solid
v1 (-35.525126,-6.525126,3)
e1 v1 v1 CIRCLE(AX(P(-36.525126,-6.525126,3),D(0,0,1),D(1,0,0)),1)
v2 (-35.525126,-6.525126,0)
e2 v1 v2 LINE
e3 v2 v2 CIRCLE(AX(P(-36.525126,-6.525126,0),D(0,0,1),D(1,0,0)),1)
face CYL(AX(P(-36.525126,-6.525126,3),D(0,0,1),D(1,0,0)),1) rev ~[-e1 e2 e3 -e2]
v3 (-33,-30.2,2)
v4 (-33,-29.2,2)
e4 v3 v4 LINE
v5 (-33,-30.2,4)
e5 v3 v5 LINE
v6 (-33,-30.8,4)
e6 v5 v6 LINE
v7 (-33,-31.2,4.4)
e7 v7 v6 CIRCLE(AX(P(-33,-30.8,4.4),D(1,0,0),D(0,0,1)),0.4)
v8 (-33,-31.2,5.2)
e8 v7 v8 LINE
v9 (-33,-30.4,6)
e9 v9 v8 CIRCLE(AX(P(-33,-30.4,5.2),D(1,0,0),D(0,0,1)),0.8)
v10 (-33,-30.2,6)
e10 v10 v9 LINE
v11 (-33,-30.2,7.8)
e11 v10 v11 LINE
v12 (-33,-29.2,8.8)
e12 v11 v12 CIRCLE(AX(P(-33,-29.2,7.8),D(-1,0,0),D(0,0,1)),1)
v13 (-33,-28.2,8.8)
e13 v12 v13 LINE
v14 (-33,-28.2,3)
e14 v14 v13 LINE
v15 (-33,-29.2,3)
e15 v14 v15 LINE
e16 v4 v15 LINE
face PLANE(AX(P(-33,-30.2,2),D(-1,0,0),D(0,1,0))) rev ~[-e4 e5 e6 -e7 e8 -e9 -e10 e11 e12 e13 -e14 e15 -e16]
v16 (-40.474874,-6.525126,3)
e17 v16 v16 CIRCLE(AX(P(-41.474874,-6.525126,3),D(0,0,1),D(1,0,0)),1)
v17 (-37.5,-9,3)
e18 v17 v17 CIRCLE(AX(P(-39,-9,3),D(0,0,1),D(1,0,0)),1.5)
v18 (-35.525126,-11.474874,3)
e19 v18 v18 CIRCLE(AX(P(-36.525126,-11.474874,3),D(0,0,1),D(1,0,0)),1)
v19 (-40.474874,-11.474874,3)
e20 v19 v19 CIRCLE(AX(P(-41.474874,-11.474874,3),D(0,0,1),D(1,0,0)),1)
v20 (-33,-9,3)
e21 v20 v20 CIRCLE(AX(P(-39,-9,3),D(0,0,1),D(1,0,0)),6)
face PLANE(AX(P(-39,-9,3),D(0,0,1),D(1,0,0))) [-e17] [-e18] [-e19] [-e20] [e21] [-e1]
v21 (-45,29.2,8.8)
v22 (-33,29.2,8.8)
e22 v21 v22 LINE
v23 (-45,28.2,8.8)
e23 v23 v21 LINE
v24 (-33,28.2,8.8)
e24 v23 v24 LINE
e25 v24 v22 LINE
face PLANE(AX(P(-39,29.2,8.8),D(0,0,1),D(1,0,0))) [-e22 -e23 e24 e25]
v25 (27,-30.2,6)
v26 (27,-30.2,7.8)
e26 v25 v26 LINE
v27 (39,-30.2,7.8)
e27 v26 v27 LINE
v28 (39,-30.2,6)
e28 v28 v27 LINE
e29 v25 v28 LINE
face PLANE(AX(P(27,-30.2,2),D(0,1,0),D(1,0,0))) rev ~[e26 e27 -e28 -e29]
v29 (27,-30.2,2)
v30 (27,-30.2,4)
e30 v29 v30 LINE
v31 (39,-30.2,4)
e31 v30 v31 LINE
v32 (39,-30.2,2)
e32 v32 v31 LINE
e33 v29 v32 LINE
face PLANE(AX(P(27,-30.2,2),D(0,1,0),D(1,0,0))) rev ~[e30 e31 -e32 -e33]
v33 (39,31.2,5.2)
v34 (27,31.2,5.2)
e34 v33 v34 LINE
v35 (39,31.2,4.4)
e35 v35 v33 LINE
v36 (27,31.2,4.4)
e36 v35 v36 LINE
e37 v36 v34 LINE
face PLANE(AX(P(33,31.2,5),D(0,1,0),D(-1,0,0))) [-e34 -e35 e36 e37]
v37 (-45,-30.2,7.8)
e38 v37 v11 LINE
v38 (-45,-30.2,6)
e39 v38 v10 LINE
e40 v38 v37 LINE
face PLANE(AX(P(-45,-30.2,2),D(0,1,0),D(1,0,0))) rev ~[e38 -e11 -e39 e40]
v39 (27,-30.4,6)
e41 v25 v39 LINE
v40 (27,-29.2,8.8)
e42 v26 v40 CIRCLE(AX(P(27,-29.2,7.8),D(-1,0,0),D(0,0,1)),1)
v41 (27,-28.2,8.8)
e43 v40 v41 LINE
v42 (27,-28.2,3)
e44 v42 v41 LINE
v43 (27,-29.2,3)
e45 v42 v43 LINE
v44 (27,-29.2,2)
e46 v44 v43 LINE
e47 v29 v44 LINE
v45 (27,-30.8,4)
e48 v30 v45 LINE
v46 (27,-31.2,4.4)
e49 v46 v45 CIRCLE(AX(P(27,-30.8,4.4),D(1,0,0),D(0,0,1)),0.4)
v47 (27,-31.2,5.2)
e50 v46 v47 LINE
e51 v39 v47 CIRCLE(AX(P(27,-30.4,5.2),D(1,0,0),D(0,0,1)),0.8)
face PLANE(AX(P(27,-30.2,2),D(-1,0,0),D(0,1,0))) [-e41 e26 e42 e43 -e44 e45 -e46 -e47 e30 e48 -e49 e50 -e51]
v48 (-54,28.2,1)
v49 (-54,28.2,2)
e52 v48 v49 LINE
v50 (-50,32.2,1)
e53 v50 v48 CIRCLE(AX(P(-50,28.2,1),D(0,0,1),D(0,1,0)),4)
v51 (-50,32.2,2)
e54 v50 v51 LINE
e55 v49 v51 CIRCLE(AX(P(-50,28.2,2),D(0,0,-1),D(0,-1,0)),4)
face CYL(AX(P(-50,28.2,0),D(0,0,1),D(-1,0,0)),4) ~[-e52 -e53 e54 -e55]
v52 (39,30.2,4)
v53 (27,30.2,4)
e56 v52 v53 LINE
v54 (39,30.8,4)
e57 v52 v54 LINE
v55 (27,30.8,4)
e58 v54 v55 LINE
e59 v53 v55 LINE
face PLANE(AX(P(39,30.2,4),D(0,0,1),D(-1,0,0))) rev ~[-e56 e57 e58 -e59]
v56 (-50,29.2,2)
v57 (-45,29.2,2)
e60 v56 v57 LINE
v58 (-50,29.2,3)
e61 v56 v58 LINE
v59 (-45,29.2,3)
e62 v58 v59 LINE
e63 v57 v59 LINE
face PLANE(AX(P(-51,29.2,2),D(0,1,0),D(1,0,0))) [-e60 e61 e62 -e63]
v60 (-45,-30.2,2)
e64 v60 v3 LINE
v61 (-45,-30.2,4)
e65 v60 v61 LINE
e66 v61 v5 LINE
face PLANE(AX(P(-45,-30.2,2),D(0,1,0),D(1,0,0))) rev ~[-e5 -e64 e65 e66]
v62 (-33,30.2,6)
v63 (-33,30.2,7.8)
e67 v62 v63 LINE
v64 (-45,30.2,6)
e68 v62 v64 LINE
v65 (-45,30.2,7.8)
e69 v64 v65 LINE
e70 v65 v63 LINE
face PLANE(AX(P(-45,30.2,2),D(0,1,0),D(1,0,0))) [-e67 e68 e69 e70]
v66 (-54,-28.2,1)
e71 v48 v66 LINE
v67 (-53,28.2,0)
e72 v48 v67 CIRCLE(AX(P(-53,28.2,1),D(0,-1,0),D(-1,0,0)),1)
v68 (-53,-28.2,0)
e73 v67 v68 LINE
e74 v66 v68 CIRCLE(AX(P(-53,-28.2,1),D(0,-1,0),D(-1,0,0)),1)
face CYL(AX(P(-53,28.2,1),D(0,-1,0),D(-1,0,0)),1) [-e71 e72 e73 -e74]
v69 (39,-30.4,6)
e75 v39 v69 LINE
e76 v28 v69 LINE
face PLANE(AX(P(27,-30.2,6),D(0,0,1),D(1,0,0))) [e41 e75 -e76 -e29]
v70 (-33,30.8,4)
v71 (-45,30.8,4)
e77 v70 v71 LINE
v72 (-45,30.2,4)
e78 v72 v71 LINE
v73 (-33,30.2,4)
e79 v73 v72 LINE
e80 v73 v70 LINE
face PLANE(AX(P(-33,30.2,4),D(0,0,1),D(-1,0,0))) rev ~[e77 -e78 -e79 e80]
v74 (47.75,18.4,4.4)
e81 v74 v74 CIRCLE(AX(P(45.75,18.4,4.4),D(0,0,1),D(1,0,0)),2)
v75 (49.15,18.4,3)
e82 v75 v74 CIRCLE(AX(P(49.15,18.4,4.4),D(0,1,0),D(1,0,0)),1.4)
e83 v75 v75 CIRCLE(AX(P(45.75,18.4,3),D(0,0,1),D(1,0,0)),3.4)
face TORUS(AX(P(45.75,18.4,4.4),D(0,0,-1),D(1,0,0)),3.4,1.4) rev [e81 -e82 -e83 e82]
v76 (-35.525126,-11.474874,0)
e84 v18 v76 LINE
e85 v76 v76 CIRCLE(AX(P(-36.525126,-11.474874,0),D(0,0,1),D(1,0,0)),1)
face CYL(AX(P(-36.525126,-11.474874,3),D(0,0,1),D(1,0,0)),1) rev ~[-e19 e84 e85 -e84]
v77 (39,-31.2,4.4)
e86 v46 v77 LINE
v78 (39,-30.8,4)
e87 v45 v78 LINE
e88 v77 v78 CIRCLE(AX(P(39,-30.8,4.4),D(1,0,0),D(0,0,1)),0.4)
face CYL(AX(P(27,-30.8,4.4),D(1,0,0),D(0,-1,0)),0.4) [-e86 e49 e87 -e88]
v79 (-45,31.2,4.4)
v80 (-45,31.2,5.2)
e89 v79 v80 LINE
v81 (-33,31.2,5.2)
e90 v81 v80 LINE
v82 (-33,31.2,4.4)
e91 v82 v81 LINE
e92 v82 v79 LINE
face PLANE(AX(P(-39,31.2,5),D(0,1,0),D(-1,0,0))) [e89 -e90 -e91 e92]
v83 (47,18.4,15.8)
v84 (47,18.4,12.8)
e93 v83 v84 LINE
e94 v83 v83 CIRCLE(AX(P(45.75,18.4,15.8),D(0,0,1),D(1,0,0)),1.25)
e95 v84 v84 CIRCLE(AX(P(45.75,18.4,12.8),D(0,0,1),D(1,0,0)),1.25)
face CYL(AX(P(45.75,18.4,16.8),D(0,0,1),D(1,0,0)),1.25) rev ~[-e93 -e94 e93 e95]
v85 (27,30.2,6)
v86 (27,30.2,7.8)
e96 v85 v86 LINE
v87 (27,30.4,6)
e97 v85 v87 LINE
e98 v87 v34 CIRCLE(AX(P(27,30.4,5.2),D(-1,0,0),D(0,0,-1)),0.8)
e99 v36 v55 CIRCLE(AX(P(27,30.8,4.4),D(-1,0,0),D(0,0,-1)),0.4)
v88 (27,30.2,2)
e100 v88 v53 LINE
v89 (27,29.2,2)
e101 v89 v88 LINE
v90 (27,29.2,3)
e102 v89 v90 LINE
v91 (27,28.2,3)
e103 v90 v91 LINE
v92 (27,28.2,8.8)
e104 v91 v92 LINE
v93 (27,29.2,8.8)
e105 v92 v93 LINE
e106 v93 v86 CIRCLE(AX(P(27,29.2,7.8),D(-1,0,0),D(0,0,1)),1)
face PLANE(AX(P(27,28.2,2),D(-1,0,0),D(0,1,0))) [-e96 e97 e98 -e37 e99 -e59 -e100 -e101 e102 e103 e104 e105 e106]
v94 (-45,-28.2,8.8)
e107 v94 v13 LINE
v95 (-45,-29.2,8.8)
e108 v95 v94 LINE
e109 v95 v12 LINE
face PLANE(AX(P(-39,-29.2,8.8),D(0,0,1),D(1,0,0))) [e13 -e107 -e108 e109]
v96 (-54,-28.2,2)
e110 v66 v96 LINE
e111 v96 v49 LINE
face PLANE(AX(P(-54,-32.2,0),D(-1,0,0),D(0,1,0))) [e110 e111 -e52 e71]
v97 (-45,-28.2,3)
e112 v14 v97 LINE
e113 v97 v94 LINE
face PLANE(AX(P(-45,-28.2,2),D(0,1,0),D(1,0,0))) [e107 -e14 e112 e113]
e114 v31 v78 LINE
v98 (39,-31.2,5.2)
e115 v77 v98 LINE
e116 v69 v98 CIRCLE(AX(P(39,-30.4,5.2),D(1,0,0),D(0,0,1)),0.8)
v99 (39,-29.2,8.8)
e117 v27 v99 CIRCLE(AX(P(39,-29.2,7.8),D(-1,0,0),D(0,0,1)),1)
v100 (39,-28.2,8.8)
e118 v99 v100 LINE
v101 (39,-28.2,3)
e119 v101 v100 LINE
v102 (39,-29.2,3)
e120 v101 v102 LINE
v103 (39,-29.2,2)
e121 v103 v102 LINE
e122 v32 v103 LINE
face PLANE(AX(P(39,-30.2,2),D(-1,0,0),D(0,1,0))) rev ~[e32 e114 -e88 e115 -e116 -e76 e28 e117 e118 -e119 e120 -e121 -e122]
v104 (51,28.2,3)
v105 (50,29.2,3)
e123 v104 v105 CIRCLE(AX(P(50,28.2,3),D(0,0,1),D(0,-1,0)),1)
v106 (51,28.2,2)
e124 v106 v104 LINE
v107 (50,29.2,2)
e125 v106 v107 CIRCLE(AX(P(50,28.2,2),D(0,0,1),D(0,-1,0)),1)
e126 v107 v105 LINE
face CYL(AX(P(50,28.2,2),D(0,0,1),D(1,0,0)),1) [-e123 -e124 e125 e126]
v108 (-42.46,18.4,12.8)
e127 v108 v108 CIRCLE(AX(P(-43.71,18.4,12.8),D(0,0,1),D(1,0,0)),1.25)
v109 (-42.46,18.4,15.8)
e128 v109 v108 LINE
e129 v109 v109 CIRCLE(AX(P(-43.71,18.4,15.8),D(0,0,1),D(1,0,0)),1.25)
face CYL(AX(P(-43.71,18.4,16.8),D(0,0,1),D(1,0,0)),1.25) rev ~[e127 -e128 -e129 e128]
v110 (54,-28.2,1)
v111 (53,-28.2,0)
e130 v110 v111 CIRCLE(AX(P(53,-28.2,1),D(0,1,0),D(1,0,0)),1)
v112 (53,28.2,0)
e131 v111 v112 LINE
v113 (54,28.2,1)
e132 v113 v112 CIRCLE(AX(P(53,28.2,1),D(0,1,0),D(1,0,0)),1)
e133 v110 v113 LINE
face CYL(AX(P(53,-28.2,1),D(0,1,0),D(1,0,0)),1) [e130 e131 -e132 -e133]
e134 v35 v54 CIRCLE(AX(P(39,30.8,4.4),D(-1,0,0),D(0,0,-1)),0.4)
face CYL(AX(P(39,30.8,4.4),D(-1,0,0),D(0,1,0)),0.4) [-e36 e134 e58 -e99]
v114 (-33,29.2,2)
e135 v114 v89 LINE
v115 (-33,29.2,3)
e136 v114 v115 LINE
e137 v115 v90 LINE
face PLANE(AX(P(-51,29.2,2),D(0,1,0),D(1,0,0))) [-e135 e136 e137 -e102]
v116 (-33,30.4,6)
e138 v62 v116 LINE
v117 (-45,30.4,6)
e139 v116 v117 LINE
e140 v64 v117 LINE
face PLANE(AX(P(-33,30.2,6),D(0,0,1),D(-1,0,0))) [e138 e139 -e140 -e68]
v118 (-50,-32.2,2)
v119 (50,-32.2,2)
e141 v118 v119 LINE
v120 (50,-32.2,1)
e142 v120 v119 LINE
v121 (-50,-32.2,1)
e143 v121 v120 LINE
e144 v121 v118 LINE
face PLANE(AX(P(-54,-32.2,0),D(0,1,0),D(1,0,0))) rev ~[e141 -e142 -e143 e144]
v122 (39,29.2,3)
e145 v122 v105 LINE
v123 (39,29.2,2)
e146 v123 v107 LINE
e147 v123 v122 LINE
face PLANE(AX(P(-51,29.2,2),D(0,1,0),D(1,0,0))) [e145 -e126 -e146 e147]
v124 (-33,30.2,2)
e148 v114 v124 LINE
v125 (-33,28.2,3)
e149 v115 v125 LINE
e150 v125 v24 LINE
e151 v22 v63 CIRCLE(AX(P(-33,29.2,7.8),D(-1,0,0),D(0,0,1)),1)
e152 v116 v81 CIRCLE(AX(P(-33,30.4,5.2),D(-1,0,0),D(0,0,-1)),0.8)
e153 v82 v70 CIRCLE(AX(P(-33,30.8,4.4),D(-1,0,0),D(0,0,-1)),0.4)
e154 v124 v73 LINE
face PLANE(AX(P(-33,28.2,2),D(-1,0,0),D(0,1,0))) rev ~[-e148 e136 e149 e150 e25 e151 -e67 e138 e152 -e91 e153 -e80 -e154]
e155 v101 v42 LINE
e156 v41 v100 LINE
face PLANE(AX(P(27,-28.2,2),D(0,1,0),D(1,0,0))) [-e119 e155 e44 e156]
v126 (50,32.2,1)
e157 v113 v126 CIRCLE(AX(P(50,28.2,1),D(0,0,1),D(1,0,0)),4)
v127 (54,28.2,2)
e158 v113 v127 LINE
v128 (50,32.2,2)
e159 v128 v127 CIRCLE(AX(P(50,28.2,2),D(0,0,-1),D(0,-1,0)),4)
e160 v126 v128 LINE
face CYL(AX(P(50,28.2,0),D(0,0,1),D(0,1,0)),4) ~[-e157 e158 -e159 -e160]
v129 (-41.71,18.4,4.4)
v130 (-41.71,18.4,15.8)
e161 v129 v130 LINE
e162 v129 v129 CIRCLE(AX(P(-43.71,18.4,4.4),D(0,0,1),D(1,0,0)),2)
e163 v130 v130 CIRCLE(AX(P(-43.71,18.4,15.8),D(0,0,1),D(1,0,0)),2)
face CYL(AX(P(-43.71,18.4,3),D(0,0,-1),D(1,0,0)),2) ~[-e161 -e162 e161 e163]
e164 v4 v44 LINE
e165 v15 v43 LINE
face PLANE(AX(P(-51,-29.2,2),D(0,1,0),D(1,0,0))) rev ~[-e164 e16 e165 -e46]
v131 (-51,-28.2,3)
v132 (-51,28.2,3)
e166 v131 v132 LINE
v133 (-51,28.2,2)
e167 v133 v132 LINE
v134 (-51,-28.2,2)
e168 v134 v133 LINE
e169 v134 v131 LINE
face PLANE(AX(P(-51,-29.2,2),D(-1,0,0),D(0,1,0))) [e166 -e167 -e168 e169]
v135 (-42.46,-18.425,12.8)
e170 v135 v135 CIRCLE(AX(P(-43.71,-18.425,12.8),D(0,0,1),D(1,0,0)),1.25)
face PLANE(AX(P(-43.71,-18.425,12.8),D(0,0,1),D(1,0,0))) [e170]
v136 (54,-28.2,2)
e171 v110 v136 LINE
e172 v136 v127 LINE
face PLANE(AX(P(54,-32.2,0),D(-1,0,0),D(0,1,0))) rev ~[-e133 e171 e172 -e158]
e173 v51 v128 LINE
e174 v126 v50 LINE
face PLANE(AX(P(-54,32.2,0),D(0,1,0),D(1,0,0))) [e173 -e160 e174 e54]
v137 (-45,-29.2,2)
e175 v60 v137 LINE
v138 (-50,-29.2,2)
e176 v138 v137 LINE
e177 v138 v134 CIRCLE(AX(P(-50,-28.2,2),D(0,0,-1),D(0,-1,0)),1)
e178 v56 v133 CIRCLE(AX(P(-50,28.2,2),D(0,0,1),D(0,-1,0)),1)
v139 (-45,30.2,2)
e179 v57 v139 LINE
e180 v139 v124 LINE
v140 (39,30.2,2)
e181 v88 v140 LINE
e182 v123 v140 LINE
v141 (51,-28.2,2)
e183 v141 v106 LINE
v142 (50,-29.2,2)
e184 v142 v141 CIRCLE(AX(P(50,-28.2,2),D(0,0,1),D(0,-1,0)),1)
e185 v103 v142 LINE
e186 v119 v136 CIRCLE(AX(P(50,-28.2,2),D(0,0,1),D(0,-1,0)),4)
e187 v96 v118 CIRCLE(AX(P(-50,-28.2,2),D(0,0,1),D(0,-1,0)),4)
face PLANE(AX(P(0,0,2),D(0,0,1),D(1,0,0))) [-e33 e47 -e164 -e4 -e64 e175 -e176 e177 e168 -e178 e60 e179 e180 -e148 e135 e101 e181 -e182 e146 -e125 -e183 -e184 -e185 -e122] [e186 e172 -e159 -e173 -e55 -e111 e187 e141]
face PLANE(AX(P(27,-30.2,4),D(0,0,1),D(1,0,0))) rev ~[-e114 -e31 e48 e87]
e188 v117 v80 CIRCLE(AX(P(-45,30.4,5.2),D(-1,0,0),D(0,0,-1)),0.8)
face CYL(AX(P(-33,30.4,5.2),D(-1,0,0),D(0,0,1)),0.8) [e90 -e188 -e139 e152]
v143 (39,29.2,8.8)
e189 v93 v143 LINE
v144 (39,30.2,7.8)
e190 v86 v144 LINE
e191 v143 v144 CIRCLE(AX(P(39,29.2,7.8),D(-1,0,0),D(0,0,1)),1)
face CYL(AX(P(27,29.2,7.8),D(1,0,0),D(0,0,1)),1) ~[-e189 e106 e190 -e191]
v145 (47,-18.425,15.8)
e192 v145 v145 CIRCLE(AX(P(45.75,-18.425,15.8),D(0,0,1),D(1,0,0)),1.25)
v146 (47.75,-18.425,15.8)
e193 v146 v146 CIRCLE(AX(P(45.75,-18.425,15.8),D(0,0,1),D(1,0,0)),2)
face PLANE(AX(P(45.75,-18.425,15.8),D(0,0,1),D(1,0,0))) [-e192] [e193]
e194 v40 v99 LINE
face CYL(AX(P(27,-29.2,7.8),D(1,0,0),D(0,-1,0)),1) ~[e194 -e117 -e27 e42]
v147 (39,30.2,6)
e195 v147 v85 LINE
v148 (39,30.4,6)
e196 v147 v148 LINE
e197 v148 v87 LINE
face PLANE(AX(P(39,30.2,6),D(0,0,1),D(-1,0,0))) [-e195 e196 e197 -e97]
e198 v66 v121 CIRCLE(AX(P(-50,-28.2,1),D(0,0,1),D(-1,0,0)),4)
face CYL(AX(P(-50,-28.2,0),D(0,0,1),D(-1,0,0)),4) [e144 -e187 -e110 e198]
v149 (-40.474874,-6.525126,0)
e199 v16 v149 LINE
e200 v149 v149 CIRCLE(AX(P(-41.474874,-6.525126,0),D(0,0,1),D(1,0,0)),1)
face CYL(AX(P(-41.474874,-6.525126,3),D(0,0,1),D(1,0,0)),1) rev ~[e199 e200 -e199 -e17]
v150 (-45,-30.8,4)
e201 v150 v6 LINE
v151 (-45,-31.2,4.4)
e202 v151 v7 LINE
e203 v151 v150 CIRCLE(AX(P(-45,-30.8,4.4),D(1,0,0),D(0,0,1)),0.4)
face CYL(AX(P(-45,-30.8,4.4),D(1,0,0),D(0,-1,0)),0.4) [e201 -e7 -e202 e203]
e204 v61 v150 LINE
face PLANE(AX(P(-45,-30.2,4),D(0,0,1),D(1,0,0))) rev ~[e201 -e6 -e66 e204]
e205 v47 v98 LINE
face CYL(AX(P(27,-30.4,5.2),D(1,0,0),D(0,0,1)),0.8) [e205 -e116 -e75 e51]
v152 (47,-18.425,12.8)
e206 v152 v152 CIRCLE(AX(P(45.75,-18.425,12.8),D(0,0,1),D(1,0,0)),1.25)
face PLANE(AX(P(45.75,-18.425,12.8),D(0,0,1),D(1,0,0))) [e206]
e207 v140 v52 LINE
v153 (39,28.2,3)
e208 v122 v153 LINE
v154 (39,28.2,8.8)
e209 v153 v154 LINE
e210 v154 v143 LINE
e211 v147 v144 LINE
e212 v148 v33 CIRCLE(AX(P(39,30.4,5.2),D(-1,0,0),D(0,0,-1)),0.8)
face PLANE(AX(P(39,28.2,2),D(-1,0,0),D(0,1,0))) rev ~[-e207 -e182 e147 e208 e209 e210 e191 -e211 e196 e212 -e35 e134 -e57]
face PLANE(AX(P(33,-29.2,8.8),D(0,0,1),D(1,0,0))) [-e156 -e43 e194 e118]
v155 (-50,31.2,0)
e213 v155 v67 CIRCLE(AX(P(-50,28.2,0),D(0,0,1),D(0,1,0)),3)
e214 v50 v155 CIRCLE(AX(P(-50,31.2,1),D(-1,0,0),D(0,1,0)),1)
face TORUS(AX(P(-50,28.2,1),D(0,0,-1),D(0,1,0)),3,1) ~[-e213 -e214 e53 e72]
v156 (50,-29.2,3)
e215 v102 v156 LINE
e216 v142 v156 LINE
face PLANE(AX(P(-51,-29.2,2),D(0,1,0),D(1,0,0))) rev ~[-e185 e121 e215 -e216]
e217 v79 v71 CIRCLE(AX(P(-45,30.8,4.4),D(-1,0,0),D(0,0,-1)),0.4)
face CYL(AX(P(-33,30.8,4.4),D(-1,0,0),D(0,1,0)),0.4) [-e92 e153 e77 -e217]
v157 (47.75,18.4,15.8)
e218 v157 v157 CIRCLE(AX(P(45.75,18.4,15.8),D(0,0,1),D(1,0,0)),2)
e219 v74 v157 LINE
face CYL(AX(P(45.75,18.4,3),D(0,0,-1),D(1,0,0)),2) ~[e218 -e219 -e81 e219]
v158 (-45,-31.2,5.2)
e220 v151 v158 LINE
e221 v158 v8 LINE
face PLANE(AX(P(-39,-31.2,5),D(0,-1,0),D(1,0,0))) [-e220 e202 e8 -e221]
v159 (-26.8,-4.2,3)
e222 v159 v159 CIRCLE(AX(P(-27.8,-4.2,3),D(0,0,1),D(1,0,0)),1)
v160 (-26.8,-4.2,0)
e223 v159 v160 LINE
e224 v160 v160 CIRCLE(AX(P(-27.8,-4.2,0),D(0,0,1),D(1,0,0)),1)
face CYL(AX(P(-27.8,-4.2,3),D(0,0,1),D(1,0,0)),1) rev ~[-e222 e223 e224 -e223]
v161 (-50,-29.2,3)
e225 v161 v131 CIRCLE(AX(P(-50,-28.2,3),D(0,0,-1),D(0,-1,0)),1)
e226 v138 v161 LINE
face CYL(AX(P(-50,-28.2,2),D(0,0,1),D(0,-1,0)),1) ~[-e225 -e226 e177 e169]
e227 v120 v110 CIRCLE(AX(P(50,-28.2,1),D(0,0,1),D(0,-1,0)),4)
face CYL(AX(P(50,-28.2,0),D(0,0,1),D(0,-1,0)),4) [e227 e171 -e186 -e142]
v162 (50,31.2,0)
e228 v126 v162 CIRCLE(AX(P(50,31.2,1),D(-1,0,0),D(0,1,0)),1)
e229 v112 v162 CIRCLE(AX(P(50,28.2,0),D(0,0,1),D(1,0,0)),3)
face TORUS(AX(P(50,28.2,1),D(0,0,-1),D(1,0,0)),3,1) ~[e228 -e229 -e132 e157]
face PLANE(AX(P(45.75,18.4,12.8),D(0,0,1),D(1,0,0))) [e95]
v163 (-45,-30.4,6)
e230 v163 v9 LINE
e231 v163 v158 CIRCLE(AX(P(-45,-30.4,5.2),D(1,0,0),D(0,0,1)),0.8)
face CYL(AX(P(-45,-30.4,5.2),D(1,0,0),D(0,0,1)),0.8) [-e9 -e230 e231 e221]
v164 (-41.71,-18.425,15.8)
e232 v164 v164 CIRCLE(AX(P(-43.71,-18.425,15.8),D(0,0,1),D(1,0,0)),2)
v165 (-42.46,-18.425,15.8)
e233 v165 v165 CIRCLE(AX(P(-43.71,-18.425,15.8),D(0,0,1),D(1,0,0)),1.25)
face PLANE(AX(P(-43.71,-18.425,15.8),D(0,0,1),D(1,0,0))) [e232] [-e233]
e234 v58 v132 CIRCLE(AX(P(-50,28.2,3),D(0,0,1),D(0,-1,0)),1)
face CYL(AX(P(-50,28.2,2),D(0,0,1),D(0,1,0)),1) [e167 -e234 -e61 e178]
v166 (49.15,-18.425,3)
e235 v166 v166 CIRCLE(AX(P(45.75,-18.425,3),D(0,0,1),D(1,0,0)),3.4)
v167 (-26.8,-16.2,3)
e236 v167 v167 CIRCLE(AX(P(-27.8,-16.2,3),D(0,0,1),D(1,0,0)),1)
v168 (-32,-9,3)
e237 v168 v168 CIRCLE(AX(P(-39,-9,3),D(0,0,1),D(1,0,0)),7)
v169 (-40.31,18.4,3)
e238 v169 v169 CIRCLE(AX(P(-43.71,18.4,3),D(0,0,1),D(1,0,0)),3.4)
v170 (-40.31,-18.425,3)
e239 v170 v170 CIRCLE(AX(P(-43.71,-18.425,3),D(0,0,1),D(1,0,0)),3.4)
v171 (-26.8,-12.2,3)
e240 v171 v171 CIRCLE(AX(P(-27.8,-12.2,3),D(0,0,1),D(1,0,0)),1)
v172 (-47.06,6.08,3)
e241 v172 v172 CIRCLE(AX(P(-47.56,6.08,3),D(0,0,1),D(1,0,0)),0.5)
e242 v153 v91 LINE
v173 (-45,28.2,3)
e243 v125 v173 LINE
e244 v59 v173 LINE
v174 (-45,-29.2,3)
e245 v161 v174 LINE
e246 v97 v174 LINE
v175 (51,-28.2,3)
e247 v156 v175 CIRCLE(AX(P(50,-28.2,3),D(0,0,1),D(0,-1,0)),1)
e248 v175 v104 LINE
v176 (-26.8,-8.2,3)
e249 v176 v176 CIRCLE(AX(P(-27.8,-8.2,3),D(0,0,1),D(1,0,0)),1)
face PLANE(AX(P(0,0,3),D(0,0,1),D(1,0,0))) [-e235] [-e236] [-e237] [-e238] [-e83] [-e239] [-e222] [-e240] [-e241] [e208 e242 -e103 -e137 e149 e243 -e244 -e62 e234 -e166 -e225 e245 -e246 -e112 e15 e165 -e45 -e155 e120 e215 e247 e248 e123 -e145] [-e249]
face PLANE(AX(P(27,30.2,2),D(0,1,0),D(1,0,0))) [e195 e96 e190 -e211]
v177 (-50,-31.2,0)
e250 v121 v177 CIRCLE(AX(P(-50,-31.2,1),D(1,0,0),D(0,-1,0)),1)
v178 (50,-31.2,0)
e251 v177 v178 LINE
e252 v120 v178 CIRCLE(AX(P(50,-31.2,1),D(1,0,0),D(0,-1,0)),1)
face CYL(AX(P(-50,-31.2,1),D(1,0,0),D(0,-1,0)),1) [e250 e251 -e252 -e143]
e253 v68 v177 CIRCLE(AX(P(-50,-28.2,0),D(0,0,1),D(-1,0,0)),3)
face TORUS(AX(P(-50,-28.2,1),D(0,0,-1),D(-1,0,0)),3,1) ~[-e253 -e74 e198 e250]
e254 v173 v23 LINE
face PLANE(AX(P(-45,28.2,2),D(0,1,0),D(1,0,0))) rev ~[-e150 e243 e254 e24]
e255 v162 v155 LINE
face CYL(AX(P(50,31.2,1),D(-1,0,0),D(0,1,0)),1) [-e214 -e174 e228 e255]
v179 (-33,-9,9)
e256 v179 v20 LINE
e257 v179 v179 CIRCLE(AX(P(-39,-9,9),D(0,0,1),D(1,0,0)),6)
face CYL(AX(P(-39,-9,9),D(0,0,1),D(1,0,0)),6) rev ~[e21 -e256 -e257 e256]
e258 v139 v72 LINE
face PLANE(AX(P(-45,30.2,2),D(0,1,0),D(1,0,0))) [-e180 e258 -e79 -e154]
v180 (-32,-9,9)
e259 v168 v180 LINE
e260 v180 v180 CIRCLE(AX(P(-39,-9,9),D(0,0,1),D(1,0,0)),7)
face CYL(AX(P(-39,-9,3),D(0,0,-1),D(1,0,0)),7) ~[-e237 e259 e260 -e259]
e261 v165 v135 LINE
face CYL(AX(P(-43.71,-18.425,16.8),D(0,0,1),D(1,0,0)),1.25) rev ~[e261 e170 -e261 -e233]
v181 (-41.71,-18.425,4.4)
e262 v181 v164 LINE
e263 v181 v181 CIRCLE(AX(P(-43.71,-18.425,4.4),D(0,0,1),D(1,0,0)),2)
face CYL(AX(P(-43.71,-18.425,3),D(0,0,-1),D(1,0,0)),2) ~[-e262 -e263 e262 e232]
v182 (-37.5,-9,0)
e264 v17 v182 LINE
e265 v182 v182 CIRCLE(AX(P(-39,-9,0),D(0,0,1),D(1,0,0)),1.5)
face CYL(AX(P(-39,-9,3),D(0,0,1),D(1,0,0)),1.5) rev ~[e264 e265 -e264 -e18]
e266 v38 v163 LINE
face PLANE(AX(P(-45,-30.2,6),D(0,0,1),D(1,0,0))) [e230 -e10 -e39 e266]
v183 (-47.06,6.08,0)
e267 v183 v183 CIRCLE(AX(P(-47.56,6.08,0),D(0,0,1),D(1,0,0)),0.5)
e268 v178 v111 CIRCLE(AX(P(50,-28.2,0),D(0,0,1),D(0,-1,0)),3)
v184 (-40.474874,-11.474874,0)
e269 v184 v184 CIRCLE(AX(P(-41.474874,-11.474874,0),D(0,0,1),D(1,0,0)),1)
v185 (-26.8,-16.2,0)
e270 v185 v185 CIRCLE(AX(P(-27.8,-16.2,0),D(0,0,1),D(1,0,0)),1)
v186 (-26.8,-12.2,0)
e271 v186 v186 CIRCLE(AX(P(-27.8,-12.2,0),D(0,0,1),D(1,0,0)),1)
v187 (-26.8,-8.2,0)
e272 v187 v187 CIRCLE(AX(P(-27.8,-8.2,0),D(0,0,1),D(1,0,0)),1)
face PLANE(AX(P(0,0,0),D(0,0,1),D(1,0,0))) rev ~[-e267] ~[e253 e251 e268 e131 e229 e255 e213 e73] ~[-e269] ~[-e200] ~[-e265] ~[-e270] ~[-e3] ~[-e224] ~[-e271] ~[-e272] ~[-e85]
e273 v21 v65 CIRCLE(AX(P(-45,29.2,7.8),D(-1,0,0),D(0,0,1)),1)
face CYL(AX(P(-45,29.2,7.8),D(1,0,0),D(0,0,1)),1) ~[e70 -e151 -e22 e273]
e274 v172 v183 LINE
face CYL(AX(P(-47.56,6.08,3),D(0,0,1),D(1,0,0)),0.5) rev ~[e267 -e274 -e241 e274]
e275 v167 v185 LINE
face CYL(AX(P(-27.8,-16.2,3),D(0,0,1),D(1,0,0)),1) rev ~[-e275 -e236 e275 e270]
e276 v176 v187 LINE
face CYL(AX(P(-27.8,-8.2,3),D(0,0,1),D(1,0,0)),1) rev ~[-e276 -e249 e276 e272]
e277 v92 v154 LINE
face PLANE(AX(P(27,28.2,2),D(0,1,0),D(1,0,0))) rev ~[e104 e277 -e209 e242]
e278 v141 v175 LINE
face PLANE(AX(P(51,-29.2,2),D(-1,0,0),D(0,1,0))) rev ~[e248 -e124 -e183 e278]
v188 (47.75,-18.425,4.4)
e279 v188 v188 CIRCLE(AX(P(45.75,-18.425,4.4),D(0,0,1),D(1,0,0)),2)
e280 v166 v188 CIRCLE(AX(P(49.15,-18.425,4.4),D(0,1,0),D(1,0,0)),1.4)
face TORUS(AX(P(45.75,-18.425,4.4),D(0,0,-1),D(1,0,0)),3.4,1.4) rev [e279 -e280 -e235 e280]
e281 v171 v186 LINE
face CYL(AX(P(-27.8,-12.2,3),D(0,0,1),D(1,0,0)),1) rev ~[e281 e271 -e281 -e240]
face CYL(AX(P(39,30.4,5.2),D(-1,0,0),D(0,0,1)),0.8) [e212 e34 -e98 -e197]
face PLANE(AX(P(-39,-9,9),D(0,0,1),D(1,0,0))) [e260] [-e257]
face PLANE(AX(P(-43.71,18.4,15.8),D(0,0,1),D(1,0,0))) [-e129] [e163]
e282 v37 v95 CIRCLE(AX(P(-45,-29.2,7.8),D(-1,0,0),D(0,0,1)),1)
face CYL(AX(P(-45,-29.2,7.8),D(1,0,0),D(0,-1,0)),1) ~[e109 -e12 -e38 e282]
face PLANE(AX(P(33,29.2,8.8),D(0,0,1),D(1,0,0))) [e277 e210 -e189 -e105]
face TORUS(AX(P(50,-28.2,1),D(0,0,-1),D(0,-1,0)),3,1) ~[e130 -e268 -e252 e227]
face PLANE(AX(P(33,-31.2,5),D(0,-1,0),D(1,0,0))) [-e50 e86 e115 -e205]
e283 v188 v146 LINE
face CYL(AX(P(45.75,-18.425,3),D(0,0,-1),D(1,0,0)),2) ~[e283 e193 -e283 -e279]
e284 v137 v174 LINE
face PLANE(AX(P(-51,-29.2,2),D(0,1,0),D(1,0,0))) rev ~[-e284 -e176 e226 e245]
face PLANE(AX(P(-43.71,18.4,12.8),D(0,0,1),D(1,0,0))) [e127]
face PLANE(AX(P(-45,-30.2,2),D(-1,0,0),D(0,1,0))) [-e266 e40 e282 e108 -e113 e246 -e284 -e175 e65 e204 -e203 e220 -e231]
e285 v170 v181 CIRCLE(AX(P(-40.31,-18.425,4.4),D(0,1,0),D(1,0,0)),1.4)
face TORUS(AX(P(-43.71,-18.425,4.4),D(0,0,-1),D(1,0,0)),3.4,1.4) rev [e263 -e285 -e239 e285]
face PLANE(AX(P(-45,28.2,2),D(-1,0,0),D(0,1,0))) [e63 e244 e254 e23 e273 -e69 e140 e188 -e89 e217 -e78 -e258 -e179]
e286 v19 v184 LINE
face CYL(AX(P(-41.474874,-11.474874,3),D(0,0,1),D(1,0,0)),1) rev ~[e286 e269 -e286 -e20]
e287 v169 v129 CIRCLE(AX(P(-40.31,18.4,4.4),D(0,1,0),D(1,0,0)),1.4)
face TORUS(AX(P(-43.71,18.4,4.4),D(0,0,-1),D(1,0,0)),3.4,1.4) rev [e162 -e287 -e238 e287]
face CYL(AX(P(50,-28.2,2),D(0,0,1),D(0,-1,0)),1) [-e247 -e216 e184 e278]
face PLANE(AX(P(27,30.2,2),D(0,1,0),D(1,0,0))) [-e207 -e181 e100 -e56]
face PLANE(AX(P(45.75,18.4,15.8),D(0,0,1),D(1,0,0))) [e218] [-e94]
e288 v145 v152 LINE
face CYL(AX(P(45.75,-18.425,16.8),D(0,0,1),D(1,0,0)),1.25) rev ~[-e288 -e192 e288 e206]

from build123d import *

# Parameters (mm, degrees)
SKETCH_W        = 108
SKETCH_H        = 64.4
PAD_DEPTH       = 2
SKETCH001_W     = 102
SKETCH001_H     = 58.4
PAD001_DEPTH    = 1
SKETCH002_R     = 2
PAD002_DEPTH    = 12.8
SKETCH003_R     = 1.25
POCKET_DEPTH    = 4
SKETCH004_W     = 12
SKETCH004_H     = 2
PAD003_DEPTH    = 6.8
SKETCH005_W     = 12
SKETCH005_H     = 2
PAD004_DEPTH    = 1
SKETCH006_W     = 12
SKETCH006_H     = 2
PAD005_DEPTH    = 1
FILLET_R        = 4
FILLET001_R     = 1
FILLET002_R     = 1
FILLET003_R     = 0.8
FILLET004_R     = 0.4
FILLET005_R     = 1
SKETCH007_R     = 1.5
SKETCH007_R_2   = 1
SKETCH007_R_3   = 0.5
POCKET001_DEPTH = 3.001
SKETCH008_R     = 7
PAD006_DEPTH    = 6
SKETCH009_R     = 6
POCKET002_DEPTH = 6
FILLET006_R     = 1.4


with BuildPart() as part:
    # Sketch → Pad (new body)
    with BuildSketch(Plane.XY):
        Rectangle(SKETCH_W, SKETCH_H)
    extrude(amount=PAD_DEPTH)

    # Sketch001 (on Face6 of Pad) → Pad001 (join)
    with BuildSketch(Plane.XY.offset(2)):
        Rectangle(SKETCH001_W, SKETCH001_H)
    extrude(amount=PAD001_DEPTH)

    # Sketch002 (on Face11 of Pad001) → Pad002 (join)
    with BuildSketch(Plane.XY.offset(3)):
        with Locations((-43.71, 18.4)):
            Circle(SKETCH002_R)
        with Locations((45.75, 18.4)):
            Circle(SKETCH002_R)
        with Locations((-43.71, -18.425)):
            Circle(SKETCH002_R)
        with Locations((45.75, -18.425)):
            Circle(SKETCH002_R)
    extrude(amount=PAD002_DEPTH)

    # Sketch003 → Pocket (cut)
    with BuildSketch(Plane.XY.offset(16.8)):
        with Locations((-43.71, 18.4)):
            Circle(SKETCH003_R)
        with Locations((45.75, 18.4)):
            Circle(SKETCH003_R)
        with Locations((45.75, -18.425)):
            Circle(SKETCH003_R)
        with Locations((-43.71, -18.425)):
            Circle(SKETCH003_R)
    extrude(amount=-POCKET_DEPTH, mode=Mode.SUBTRACT)

    # Sketch004 (on Face11 of Pocket) → Pad003 (join)
    with BuildSketch(Plane.XY.offset(2)):
        with Locations((-39, 29.2)):
            Rectangle(SKETCH004_W, SKETCH004_H)
        with Locations((33, 29.2)):
            Rectangle(SKETCH004_W, SKETCH004_H)
        with Locations((-39, -29.2)):
            Rectangle(SKETCH004_W, SKETCH004_H)
        with Locations((33, -29.2)):
            Rectangle(SKETCH004_W, SKETCH004_H)
    extrude(amount=PAD003_DEPTH)

    # Sketch005 (on Face19 of Pad003) → Pad004 (join)
    with BuildSketch(Plane.XZ.offset(30.2)):
        with Locations((33, 5)):
            Rectangle(SKETCH005_W, SKETCH005_H)
        with Locations((-39, 5)):
            Rectangle(SKETCH005_W, SKETCH005_H)
    extrude(amount=PAD004_DEPTH)

    # Sketch006 → Pad005 (join)
    with BuildSketch(Plane(origin=(0, 30.2, 0), x_dir=(-1, 0, 0), z_dir=(0, 1, 0))):
        with Locations((-33, 5)):
            Rectangle(SKETCH006_W, SKETCH006_H)
        with Locations((39, 5)):
            Rectangle(SKETCH006_W, SKETCH006_H)
    extrude(amount=PAD005_DEPTH)

    # Fillet
    fillet_edges = [part.edges().sort_by_distance(p)[0] for p in [
        (-54, 32.2, 1),
        (54, 32.2, 1),
        (-54, -32.2, 1),
        (54, -32.2, 1),
    ]]
    fillet(fillet_edges, radius=FILLET_R)

    # Fillet001
    fillet001_edges = [part.edges().sort_by_distance(p)[0] for p in [
        (-51, 29.2, 2.5),
        (-51, -29.2, 2.5),
        (51, -29.2, 2.5),
        (51, 29.2, 2.5),
    ]]
    fillet(fillet001_edges, radius=FILLET001_R)

    # Fillet002
    fillet002_edges = [part.edges().sort_by_distance(p)[0] for p in [
        (-39, -30.2, 8.8),
        (33, -30.2, 8.8),
        (33, 30.2, 8.8),
        (-39, 30.2, 8.8),
    ]]
    fillet(fillet002_edges, radius=FILLET002_R)

    # Fillet003
    fillet003_edges = [part.edges().sort_by_distance(p)[0] for p in [
        (-39, 31.2, 6),
        (33, 31.2, 6),
        (-39, -31.2, 6),
        (33, -31.2, 6),
    ]]
    fillet(fillet003_edges, radius=FILLET003_R)

    # Fillet004
    fillet004_edges = [part.edges().sort_by_distance(p)[0] for p in [
        (33, -31.2, 4),
        (-39, -31.2, 4),
        (-39, 31.2, 4),
        (33, 31.2, 4),
    ]]
    fillet(fillet004_edges, radius=FILLET004_R)

    # Fillet005
    fillet005_edges = [part.edges().sort_by_distance(p)[0] for p in [
        (0, -32.2, 0),
    ]]
    fillet(fillet005_edges, radius=FILLET005_R)

    # Sketch007 (on Face43 of Fillet005) → Pocket001 (cut, through all)
    with BuildSketch(Plane.XY.offset(3)):
        with Locations((-39, -9)):
            Circle(SKETCH007_R)
        with Locations((-27.8, -4.2)):
            Circle(SKETCH007_R_2)
        with Locations((-27.8, -8.2)):
            Circle(SKETCH007_R_2)
        with Locations((-27.8, -12.2)):
            Circle(SKETCH007_R_2)
        with Locations((-27.8, -16.2)):
            Circle(SKETCH007_R_2)
        with Locations((-47.56, 6.08)):
            Circle(SKETCH007_R_3)
        with Locations((-41.474874, -6.525126)):
            Circle(SKETCH007_R_2)
        with Locations((-36.525126, -6.525126)):
            Circle(SKETCH007_R_2)
        with Locations((-36.525126, -11.474874)):
            Circle(SKETCH007_R_2)
        with Locations((-41.474874, -11.474874)):
            Circle(SKETCH007_R_2)
    extrude(amount=-POCKET001_DEPTH, mode=Mode.SUBTRACT)

    # Sketch008 (on Face53 of Pocket001) → Pad006 (join)
    with BuildSketch(Plane.XY.offset(3)):
        with Locations((-39, -9)):
            Circle(SKETCH008_R)
    extrude(amount=PAD006_DEPTH)

    # Sketch009 (on Face108 of Pad006) → Pocket002 (cut)
    with BuildSketch(Plane.XY.offset(9)):
        with Locations((-39, -9)):
            Circle(SKETCH009_R)
    extrude(amount=-POCKET002_DEPTH, mode=Mode.SUBTRACT)

    # Fillet006
    fillet006_edges = [part.edges().sort_by_distance(p)[0] for p in [
        (-45.71, -18.425, 3),
        (-45.71, 18.4, 3),
        (43.75, 18.4, 3),
        (43.75, -18.425, 3),
    ]]
    fillet(fillet006_edges, radius=FILLET006_R)


solid = part.part
